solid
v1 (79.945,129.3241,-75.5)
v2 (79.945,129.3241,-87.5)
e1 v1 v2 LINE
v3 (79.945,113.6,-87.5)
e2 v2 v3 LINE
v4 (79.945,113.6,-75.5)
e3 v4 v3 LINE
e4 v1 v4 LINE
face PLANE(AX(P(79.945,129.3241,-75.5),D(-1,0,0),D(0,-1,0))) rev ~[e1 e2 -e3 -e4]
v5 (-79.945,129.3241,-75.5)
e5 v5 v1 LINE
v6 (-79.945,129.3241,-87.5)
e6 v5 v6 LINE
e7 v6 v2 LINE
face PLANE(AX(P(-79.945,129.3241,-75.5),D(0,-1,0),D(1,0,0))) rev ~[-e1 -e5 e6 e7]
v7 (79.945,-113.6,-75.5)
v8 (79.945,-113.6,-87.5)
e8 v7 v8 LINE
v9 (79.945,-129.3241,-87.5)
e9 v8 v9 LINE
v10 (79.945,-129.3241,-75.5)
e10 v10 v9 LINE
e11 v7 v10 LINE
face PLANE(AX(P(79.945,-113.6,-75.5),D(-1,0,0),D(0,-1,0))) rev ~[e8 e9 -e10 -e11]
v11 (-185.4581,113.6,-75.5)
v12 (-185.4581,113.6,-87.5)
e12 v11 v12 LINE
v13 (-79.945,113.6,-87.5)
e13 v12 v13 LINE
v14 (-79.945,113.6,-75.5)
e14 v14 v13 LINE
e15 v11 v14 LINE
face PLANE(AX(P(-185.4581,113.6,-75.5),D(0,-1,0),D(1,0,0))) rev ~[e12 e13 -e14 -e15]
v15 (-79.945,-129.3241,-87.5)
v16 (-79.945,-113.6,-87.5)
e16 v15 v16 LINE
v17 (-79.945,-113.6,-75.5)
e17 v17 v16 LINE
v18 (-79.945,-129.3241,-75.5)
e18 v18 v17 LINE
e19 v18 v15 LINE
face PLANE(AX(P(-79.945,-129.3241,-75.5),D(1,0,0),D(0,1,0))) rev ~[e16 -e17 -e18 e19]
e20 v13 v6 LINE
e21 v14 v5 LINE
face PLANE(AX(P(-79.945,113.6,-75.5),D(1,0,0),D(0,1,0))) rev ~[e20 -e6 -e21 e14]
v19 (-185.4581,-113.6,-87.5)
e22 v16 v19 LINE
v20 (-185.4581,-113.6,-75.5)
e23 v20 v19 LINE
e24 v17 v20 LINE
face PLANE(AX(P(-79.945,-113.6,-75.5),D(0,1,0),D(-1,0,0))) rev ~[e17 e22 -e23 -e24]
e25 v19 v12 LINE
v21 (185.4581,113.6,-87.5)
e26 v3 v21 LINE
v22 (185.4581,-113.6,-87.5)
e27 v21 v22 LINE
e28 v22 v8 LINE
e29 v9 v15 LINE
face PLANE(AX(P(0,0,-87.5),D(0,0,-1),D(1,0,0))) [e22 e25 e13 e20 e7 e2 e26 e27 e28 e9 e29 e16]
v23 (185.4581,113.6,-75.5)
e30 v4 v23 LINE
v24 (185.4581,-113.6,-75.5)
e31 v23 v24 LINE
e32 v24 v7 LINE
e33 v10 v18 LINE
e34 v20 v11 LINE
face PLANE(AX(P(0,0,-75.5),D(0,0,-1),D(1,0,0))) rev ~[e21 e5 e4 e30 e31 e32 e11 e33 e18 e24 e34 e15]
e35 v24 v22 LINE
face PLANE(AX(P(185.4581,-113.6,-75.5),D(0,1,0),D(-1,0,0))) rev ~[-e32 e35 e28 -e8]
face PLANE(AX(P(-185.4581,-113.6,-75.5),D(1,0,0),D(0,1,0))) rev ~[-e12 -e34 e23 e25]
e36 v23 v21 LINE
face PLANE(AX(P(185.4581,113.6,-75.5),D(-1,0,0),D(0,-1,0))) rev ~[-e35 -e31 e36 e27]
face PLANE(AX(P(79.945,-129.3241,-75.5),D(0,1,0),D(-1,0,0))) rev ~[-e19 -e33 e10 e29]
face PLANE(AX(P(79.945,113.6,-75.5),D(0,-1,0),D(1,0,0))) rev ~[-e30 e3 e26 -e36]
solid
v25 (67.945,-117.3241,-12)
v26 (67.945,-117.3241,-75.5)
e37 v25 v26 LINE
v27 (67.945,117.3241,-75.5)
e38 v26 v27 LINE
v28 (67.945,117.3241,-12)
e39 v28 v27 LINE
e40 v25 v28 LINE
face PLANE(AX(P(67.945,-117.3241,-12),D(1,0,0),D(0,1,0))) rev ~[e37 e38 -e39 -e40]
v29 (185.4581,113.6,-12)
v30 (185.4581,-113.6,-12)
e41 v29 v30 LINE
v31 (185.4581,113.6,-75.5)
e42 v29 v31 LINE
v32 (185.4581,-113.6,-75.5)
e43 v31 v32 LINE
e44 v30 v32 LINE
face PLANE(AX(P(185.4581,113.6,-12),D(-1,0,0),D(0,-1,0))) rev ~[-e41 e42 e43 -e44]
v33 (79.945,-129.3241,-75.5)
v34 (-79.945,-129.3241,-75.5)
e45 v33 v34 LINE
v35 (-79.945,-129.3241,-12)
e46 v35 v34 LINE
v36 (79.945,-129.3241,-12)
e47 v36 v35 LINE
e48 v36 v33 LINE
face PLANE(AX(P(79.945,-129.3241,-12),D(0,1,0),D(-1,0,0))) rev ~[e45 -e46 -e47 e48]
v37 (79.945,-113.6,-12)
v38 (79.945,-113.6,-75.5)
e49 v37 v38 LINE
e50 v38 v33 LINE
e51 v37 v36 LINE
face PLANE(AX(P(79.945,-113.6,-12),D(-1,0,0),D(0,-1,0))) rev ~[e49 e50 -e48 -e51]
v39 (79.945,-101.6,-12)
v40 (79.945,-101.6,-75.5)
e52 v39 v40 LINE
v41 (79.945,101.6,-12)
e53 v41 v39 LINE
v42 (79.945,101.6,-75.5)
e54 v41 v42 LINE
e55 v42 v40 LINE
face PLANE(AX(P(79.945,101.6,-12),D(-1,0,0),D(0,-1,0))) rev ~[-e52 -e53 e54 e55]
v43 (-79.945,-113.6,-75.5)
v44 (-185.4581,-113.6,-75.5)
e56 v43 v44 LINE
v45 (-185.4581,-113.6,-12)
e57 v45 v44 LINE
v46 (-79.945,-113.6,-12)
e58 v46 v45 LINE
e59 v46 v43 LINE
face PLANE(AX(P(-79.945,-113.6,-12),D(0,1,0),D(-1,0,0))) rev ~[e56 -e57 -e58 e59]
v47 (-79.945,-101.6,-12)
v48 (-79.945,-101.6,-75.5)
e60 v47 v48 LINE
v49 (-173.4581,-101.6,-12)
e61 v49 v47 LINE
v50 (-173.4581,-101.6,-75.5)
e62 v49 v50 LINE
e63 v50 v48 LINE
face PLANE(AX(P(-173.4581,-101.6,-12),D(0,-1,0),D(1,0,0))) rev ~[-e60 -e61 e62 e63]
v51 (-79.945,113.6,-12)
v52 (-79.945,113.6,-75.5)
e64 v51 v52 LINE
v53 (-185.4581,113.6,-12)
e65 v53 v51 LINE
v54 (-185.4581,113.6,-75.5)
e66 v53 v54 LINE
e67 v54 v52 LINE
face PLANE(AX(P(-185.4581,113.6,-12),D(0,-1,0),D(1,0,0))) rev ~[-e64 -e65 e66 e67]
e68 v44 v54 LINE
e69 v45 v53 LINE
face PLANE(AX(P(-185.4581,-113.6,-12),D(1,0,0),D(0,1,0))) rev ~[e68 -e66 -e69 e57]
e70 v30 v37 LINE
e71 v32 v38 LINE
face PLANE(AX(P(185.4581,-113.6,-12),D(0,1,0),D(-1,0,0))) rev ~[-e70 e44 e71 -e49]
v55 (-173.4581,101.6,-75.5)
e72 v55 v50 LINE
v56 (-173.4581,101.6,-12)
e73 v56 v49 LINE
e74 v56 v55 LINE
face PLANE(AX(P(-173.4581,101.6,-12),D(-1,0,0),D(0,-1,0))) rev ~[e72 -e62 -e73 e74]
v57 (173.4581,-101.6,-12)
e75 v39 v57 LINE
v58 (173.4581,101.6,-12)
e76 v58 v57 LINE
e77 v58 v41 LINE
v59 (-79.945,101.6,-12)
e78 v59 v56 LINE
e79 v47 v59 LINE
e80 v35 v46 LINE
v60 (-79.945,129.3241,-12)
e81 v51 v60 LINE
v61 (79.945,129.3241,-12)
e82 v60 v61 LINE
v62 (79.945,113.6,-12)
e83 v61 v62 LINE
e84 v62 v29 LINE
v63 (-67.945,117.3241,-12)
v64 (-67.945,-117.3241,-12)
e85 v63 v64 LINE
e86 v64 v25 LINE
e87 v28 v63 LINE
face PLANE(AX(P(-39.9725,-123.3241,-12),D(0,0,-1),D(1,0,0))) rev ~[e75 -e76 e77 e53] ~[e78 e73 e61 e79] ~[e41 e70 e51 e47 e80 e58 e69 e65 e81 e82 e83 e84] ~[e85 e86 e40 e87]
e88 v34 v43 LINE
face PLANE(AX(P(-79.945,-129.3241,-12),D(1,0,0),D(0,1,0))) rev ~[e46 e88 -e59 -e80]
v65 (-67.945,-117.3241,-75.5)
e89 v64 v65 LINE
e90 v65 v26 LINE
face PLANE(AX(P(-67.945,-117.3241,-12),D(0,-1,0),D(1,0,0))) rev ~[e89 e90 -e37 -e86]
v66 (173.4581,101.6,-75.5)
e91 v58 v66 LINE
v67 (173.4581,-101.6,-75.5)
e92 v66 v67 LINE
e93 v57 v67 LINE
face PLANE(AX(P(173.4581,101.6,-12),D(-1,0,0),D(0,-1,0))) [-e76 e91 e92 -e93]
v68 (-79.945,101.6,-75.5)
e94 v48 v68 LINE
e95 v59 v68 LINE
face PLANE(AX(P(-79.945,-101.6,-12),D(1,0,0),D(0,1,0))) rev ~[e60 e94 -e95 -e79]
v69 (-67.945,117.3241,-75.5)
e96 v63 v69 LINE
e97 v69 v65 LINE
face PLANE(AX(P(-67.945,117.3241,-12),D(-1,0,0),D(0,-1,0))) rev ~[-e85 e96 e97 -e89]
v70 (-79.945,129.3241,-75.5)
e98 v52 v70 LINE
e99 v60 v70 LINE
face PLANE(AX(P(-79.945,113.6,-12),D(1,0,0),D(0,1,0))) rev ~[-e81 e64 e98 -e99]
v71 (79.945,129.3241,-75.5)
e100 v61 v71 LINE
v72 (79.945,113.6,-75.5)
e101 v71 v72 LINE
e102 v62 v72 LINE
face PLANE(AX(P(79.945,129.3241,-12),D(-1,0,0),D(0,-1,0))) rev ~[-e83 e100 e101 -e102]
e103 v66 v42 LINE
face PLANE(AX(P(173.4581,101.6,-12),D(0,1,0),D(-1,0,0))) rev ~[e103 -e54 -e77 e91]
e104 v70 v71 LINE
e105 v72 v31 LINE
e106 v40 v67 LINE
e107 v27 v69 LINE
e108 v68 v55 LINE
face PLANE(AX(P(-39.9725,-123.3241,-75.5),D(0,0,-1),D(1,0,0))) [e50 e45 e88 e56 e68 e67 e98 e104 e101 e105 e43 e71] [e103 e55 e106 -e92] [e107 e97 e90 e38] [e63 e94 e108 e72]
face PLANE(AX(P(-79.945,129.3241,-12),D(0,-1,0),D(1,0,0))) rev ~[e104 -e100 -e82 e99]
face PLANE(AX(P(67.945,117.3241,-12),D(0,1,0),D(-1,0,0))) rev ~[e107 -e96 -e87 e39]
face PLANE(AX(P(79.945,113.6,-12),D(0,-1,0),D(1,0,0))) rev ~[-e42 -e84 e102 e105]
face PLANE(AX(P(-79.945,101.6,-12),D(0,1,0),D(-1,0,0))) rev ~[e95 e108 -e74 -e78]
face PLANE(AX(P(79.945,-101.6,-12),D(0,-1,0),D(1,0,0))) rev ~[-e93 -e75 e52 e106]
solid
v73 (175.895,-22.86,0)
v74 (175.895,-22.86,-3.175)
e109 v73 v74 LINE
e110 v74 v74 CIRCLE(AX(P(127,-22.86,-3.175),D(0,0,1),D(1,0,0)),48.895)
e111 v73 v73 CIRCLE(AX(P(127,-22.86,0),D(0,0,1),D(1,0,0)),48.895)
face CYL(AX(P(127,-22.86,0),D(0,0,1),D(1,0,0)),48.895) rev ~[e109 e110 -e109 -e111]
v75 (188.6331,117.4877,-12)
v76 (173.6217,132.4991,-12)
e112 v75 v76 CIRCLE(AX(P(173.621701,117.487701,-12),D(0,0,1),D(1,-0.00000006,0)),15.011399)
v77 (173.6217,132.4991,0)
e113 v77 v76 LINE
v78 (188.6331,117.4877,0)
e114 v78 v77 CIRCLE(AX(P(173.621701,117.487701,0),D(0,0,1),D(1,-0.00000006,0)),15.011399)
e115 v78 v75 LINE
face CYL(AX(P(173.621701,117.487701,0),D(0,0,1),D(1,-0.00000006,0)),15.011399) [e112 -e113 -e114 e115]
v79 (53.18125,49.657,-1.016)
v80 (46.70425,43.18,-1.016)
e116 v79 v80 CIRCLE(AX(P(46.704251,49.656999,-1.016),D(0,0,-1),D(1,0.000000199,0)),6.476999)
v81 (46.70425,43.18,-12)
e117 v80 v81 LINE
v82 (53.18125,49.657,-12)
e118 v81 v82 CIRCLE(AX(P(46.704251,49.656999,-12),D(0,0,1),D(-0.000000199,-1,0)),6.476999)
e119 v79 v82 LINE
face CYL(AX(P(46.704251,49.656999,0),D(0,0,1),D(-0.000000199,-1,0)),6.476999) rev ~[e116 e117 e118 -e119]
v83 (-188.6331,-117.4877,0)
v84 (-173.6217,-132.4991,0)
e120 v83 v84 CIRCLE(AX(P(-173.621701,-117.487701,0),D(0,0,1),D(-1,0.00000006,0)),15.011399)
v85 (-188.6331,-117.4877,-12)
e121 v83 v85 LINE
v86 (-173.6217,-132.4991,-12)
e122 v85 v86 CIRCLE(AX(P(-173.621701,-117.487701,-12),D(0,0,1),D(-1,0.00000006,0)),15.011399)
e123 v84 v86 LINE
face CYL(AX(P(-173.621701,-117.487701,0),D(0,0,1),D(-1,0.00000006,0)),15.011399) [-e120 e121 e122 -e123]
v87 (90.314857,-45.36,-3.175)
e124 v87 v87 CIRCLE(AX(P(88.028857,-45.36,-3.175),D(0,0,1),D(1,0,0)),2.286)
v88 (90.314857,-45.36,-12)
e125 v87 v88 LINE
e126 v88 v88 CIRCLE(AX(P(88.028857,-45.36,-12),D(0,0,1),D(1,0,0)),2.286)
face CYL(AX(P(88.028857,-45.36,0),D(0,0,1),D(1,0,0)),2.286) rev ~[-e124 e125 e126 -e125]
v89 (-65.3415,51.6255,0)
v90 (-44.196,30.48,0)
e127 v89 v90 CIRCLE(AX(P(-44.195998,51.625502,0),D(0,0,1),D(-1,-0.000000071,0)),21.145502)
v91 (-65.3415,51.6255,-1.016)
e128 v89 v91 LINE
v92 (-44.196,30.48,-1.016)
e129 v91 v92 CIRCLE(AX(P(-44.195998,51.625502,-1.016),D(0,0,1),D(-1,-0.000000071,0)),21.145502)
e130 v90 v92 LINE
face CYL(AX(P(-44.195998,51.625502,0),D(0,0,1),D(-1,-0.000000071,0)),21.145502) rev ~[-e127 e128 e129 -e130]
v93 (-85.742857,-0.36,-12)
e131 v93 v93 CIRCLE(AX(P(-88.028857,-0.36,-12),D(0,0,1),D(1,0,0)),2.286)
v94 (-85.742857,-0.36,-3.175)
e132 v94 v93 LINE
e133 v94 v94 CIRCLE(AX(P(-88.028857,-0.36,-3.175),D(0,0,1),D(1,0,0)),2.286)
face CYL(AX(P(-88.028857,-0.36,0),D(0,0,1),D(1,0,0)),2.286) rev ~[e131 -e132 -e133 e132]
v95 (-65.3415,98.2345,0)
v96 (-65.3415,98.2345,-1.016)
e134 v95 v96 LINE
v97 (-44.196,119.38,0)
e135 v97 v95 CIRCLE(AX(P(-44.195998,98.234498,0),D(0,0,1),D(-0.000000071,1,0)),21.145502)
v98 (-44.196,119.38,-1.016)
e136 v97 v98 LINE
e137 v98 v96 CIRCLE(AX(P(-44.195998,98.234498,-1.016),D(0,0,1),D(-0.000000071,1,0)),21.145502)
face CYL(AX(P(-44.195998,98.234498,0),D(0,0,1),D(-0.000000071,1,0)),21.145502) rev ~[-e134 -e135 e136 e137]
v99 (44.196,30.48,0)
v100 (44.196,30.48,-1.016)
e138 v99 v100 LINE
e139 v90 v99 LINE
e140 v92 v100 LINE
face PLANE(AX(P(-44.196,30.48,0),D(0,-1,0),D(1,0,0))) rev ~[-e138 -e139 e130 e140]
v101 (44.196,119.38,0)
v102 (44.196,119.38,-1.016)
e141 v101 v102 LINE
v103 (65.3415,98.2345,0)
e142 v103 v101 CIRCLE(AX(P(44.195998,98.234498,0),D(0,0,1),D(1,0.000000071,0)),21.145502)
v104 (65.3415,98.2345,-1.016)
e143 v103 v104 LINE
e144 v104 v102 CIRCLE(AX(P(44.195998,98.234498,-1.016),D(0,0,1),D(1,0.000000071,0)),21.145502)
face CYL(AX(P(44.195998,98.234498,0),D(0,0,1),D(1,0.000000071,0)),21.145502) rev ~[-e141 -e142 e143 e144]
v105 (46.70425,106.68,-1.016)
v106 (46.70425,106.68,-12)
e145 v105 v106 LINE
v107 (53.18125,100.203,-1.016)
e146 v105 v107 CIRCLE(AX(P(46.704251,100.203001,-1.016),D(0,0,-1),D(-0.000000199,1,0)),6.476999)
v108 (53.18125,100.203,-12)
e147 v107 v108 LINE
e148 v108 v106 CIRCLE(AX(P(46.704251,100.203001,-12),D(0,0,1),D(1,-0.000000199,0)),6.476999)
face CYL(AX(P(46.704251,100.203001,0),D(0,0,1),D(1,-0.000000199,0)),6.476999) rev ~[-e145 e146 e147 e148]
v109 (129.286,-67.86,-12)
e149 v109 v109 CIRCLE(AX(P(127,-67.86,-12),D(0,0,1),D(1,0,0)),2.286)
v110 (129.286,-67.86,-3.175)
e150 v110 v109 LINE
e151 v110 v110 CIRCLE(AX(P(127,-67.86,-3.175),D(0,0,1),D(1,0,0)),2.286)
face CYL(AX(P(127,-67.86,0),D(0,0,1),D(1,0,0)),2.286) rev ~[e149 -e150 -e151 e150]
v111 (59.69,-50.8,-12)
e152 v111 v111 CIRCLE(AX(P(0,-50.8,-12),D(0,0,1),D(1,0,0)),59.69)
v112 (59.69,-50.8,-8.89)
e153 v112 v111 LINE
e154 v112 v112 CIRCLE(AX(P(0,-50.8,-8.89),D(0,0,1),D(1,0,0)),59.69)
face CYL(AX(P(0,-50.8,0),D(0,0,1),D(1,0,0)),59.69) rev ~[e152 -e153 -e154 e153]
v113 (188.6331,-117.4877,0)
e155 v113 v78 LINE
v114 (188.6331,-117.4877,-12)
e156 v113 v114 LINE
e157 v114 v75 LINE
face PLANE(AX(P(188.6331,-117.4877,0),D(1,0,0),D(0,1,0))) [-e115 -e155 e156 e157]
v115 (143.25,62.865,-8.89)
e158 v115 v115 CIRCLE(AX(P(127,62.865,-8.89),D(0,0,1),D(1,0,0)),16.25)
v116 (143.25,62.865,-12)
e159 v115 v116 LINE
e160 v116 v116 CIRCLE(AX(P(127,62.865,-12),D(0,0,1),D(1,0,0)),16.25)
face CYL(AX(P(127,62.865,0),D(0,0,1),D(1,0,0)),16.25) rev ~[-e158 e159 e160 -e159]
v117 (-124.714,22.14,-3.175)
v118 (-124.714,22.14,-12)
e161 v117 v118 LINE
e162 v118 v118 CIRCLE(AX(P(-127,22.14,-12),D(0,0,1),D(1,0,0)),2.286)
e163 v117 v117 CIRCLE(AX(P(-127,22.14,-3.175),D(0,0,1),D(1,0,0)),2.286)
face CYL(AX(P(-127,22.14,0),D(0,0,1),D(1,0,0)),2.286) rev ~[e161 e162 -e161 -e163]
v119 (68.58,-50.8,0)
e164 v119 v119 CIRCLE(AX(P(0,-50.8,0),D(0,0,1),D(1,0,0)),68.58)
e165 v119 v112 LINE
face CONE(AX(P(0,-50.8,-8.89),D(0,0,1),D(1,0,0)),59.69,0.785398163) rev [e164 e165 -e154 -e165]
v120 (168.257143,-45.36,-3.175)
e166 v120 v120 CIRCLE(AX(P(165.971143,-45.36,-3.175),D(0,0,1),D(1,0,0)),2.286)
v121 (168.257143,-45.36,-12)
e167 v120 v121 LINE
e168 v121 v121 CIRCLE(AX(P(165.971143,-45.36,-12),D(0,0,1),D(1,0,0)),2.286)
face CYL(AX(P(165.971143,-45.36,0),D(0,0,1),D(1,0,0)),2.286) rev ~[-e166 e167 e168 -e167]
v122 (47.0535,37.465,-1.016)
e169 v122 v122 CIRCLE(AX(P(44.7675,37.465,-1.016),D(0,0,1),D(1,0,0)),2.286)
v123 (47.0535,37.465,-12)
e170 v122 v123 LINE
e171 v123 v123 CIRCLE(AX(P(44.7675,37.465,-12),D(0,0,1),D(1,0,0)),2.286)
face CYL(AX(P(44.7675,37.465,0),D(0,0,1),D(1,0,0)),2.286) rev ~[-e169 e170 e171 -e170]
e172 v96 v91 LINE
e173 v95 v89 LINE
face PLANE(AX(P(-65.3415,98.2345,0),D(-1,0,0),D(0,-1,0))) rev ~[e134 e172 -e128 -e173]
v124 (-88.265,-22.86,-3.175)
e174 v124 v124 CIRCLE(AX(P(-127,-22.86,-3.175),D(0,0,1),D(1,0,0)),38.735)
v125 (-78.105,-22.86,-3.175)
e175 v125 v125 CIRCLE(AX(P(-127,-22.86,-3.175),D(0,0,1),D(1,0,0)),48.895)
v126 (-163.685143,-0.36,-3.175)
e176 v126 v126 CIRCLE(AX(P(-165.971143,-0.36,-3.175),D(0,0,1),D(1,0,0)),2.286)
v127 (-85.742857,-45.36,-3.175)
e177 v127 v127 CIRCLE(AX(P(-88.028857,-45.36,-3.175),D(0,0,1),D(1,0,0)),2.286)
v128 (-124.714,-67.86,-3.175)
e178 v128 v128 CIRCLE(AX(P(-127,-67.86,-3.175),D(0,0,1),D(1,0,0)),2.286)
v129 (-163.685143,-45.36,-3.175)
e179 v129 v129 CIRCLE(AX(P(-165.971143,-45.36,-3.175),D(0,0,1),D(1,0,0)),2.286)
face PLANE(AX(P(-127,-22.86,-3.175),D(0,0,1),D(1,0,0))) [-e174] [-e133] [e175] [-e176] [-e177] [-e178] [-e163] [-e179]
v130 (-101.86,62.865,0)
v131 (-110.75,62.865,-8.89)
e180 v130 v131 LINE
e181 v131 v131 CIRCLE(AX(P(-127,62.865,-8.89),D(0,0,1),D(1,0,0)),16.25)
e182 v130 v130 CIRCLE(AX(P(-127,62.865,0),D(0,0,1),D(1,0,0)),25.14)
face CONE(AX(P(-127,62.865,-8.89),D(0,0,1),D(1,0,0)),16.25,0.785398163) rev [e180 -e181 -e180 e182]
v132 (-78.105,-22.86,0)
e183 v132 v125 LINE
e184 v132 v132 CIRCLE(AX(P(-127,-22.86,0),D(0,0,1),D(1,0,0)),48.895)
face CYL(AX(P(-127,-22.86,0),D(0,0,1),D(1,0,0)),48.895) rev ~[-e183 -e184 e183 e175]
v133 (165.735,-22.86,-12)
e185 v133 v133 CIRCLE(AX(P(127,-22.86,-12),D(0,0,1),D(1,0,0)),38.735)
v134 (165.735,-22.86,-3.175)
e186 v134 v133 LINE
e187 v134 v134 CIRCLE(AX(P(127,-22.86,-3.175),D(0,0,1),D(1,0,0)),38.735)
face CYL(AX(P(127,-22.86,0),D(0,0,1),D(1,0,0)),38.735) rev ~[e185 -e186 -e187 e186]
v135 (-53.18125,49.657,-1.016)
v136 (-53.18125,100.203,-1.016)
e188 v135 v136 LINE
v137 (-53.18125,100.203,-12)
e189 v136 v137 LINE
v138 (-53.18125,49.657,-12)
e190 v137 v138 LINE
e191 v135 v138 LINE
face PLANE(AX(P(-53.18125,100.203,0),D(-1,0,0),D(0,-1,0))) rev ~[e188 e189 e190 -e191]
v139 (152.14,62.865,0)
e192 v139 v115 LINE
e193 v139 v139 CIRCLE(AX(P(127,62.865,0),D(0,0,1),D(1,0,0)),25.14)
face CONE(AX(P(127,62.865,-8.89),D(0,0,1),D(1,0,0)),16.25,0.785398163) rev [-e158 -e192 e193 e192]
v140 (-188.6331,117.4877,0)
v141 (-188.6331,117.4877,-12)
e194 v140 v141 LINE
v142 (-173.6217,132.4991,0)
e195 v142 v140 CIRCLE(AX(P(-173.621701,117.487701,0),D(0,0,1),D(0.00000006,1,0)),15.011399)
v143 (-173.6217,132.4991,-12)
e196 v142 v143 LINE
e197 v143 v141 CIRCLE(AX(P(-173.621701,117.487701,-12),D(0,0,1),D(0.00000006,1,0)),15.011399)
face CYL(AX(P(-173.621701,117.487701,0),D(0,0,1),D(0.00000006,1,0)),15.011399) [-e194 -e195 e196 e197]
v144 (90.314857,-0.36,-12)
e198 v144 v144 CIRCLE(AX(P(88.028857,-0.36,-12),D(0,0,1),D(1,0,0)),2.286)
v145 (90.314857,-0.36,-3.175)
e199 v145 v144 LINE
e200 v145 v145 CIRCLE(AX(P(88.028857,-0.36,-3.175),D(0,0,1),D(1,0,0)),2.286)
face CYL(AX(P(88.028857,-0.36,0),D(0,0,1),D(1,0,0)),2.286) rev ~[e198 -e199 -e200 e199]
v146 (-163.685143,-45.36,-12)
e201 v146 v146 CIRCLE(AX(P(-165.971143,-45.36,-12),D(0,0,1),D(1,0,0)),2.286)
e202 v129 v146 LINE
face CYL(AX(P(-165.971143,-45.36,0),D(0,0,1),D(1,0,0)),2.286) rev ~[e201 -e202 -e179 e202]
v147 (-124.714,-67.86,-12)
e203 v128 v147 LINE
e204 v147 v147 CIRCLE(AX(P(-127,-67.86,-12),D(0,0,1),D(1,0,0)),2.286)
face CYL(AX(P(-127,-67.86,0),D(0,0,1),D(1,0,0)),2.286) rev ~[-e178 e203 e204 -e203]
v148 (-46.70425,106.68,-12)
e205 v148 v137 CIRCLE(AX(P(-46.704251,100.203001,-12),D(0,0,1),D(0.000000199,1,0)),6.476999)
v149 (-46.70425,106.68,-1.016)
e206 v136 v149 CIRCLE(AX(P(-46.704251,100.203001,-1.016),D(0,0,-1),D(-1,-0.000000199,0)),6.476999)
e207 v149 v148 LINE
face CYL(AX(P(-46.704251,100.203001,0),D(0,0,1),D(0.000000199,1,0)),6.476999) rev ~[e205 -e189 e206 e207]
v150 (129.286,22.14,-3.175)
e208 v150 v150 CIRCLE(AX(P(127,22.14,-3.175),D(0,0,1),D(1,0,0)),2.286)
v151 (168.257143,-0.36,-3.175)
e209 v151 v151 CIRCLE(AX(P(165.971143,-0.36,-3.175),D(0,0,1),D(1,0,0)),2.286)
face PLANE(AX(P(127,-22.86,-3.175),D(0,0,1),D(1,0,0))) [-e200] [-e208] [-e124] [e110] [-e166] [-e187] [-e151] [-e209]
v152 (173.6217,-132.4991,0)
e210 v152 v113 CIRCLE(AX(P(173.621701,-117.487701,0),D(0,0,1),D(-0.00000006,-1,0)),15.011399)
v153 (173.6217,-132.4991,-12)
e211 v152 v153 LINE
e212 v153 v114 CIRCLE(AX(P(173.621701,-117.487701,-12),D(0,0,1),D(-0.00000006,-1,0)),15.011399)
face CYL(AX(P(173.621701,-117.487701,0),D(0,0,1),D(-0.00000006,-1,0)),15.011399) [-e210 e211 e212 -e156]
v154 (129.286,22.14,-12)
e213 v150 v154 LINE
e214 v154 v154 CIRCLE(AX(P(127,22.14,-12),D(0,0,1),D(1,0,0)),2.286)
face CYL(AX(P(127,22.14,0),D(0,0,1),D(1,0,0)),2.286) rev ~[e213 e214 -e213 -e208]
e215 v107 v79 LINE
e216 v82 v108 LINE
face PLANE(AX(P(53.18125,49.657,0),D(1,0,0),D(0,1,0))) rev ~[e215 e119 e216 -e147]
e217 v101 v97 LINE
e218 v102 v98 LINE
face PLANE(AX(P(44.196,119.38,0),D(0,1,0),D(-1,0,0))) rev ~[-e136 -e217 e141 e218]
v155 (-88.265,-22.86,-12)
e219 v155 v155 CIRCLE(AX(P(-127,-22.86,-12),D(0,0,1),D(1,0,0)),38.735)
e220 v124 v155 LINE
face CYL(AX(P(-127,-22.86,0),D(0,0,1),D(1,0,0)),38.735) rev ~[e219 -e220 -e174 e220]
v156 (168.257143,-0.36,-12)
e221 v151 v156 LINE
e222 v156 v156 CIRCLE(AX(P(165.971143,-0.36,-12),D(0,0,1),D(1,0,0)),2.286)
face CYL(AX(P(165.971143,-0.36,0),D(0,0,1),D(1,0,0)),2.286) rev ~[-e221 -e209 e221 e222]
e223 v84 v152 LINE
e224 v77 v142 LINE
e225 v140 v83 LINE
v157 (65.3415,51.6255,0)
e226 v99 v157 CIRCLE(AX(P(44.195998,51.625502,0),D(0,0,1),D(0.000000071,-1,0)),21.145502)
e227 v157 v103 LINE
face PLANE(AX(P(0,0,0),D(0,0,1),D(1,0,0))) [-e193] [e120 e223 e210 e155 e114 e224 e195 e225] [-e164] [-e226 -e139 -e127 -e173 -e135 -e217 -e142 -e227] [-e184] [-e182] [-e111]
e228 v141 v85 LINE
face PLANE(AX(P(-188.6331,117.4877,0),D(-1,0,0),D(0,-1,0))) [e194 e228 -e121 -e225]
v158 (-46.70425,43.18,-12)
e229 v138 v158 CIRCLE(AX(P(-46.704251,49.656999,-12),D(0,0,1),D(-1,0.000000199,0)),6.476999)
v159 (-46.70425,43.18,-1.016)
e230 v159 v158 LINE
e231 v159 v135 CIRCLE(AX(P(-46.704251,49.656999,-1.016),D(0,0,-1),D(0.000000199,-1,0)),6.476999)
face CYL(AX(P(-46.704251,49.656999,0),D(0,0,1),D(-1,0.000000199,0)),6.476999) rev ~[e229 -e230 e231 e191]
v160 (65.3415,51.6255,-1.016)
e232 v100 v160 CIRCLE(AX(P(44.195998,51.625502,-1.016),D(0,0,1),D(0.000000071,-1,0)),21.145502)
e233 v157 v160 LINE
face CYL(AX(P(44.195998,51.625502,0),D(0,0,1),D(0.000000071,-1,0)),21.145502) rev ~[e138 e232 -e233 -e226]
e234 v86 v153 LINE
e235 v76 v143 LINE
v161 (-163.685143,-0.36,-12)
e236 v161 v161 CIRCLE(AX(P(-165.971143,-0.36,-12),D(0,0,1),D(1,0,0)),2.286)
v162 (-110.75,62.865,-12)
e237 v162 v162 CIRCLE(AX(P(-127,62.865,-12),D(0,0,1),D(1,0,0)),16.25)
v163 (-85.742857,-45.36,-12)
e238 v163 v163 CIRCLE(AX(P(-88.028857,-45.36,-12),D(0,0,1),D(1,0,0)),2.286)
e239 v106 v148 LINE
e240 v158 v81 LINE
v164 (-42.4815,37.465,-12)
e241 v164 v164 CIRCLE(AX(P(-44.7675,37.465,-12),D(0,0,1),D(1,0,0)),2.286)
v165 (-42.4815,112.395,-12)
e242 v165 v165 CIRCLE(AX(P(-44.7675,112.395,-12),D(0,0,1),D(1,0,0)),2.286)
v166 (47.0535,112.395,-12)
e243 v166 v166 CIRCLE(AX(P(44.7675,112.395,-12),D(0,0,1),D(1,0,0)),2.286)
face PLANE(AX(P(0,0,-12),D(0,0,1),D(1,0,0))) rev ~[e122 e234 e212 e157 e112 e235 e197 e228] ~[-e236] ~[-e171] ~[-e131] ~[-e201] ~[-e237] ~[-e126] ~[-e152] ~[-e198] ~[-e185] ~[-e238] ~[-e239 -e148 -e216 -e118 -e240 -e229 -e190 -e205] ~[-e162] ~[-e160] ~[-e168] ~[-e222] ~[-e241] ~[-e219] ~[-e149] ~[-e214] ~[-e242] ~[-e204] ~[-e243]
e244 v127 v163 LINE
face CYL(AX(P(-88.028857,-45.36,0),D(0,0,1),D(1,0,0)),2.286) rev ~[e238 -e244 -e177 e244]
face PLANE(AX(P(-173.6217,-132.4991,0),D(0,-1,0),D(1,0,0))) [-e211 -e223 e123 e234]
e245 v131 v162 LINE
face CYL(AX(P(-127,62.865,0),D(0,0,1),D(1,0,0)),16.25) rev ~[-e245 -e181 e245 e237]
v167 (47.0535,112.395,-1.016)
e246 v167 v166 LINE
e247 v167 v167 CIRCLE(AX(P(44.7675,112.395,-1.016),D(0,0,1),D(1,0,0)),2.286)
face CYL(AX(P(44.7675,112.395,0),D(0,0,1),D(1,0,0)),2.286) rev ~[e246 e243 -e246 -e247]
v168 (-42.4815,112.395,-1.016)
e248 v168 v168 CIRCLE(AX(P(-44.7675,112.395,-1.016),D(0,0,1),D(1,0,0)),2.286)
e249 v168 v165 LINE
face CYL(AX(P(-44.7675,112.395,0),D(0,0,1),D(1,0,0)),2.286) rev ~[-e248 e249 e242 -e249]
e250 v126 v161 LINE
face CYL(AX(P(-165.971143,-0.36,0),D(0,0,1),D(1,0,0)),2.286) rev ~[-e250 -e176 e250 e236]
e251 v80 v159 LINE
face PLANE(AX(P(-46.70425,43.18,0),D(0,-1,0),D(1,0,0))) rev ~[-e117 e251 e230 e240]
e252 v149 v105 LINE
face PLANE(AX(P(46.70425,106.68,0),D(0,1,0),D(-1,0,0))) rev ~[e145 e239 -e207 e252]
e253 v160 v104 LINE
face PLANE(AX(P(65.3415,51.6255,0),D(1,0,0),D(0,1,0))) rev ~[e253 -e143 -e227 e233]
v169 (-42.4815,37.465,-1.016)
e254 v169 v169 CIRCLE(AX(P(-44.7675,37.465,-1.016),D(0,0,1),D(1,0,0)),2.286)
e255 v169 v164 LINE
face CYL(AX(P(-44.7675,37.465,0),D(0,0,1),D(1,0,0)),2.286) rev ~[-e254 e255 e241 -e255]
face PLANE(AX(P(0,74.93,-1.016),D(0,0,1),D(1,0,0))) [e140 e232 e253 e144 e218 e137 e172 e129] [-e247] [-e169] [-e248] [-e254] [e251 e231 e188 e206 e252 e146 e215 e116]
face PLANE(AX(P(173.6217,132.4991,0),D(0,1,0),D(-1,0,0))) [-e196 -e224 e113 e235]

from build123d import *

# Parameters (mm, degrees)
F1_DEPTH  = 12
F2_R      = 16.25
F2_R_2    = 59.69
F2_R_3    = 38.735
F2_R_4    = 2.286
F3_DEPTH  = 12.001
F2_R_5    = 48.895
F4_DEPTH  = 3.175
F5_SIZE   = 8.89
F6_DEPTH  = 1.016
F7_W      = 12
F7_H      = 203.2
F8_DEPTH  = 63.5
F10_DEPTH = 12


with BuildPart() as f1:
    # F0 (on Top) → F1 (new body)
    with BuildSketch(Plane.XY):
        with BuildLine():
            Line((173.6217, 132.4991), (-173.6217, 132.4991))
            ThreePointArc((-173.6217, 132.4991), (-184.236363, 128.102363), (-188.6331, 117.4877))
            Line((-188.6331, 117.4877), (-188.6331, -117.4877))
            ThreePointArc((-188.6331, -117.4877), (-184.236363, -128.102363), (-173.6217, -132.4991))
            Line((-173.6217, -132.4991), (173.6217, -132.4991))
            ThreePointArc((173.6217, -132.4991), (184.236363, -128.102363), (188.6331, -117.4877))
            Line((188.6331, -117.4877), (188.6331, 117.4877))
            ThreePointArc((188.6331, 117.4877), (184.236363, 128.102363), (173.6217, 132.4991))
        make_face()
    extrude(amount=-F1_DEPTH)

    # F2 (on face) → F3 (cut, through all)
    with BuildSketch(Plane.XY):
        with Locations((-127, 62.865)):
            Circle(F2_R)
        with BuildLine():
            Line((-46.70425, 43.18), (46.70425, 43.18))
            ThreePointArc((46.70425, 43.18), (51.284181, 45.077069), (53.18125, 49.657))
            Line((53.18125, 49.657), (53.18125, 100.203))
            ThreePointArc((53.18125, 100.203), (51.284181, 104.782931), (46.70425, 106.68))
            Line((46.70425, 106.68), (-46.70425, 106.68))
            ThreePointArc((-46.70425, 106.68), (-51.284181, 104.782931), (-53.18125, 100.203))
            Line((-53.18125, 100.203), (-53.18125, 49.657))
            ThreePointArc((-53.18125, 49.657), (-51.284181, 45.077069), (-46.70425, 43.18))
        make_face()
        with Locations((127, 62.865)):
            Circle(F2_R)
        with Locations((0, -50.8)):
            Circle(F2_R_2)
        with Locations((127, -22.86)):
            Circle(F2_R_3)
        with Locations((-127, -22.86)):
            Circle(F2_R_3)
        with Locations((-165.971143, -0.36)):
            Circle(F2_R_4)
        with Locations((-127, 22.14)):
            Circle(F2_R_4)
        with Locations((-88.028857, -0.36)):
            Circle(F2_R_4)
        with Locations((-88.028857, -45.36)):
            Circle(F2_R_4)
        with Locations((-165.971143, -45.36)):
            Circle(F2_R_4)
        with Locations((-127, -67.86)):
            Circle(F2_R_4)
        with Locations((127, 22.14)):
            Circle(F2_R_4)
        with Locations((165.971143, -0.36)):
            Circle(F2_R_4)
        with Locations((88.028857, -0.36)):
            Circle(F2_R_4)
        with Locations((88.028857, -45.36)):
            Circle(F2_R_4)
        with Locations((127, -67.86)):
            Circle(F2_R_4)
        with Locations((165.971143, -45.36)):
            Circle(F2_R_4)
        with Locations((-44.7675, 112.395)):
            Circle(F2_R_4)
        with Locations((44.7675, 112.395)):
            Circle(F2_R_4)
        with Locations((-44.7675, 37.465)):
            Circle(F2_R_4)
        with Locations((44.7675, 37.465)):
            Circle(F2_R_4)
    extrude(amount=-F3_DEPTH, mode=Mode.SUBTRACT)

    # F2 (on face) → F4 (cut)
    with BuildSketch(Plane.XY):
        with Locations((-127, -22.86)):
            Circle(F2_R_5)
        with Locations((-127, -67.86)):
            Circle(F2_R_4, mode=Mode.SUBTRACT)
        with Locations((-165.971143, -45.36)):
            Circle(F2_R_4, mode=Mode.SUBTRACT)
        with Locations((-165.971143, -0.36)):
            Circle(F2_R_4, mode=Mode.SUBTRACT)
        with Locations((-127, -22.86)):
            Circle(F2_R_3, mode=Mode.SUBTRACT)
        with Locations((-88.028857, -45.36)):
            Circle(F2_R_4, mode=Mode.SUBTRACT)
        with Locations((-88.028857, -0.36)):
            Circle(F2_R_4, mode=Mode.SUBTRACT)
        with Locations((-127, 22.14)):
            Circle(F2_R_4, mode=Mode.SUBTRACT)
        with Locations((127, -22.86)):
            Circle(F2_R_5)
        with Locations((127, -67.86)):
            Circle(F2_R_4, mode=Mode.SUBTRACT)
        with Locations((88.028857, -45.36)):
            Circle(F2_R_4, mode=Mode.SUBTRACT)
        with Locations((88.028857, -0.36)):
            Circle(F2_R_4, mode=Mode.SUBTRACT)
        with Locations((165.971143, -45.36)):
            Circle(F2_R_4, mode=Mode.SUBTRACT)
        with Locations((127, -22.86)):
            Circle(F2_R_3, mode=Mode.SUBTRACT)
        with Locations((165.971143, -0.36)):
            Circle(F2_R_4, mode=Mode.SUBTRACT)
        with Locations((127, 22.14)):
            Circle(F2_R_4, mode=Mode.SUBTRACT)
    extrude(amount=-F4_DEPTH, mode=Mode.SUBTRACT)

    # F5
    f5_edges = [f1.edges().sort_by_distance(p)[0] for p in [
        (-143.25, 62.865, 0),
        (110.75, 62.865, 0),
        (-59.69, -50.8, 0),
    ]]
    chamfer(f5_edges, length=F5_SIZE)

    # F2 (on face) → F6 (cut)
    with BuildSketch(Plane.XY):
        with BuildLine():
            Line((-44.196, 30.48), (44.196, 30.48))
            ThreePointArc((44.196, 30.48), (59.148126, 36.673374), (65.3415, 51.6255))
            Line((65.3415, 51.6255), (65.3415, 98.2345))
            ThreePointArc((65.3415, 98.2345), (59.148126, 113.186626), (44.196, 119.38))
            Line((44.196, 119.38), (-44.196, 119.38))
            ThreePointArc((-44.196, 119.38), (-59.148126, 113.186626), (-65.3415, 98.2345))
            Line((-65.3415, 98.2345), (-65.3415, 51.6255))
            ThreePointArc((-65.3415, 51.6255), (-59.148126, 36.673374), (-44.196, 30.48))
        make_face()
        with Locations((-44.7675, 37.465)):
            Circle(F2_R_4, mode=Mode.SUBTRACT)
        with Locations((-44.7675, 112.395)):
            Circle(F2_R_4, mode=Mode.SUBTRACT)
        with Locations((44.7675, 37.465)):
            Circle(F2_R_4, mode=Mode.SUBTRACT)
        with BuildLine():
            ThreePointArc((53.18125, 49.657), (51.284181, 45.077069), (46.70425, 43.18))
            Line((46.70425, 43.18), (-46.70425, 43.18))
            ThreePointArc((-46.70425, 43.18), (-51.284181, 45.077069), (-53.18125, 49.657))
            Line((-53.18125, 49.657), (-53.18125, 100.203))
            ThreePointArc((-53.18125, 100.203), (-51.284181, 104.782931), (-46.70425, 106.68))
            Line((-46.70425, 106.68), (46.70425, 106.68))
            ThreePointArc((46.70425, 106.68), (51.284181, 104.782931), (53.18125, 100.203))
            Line((53.18125, 100.203), (53.18125, 49.657))
        make_face(mode=Mode.SUBTRACT)
        with Locations((44.7675, 112.395)):
            Circle(F2_R_4, mode=Mode.SUBTRACT)
    extrude(amount=-F6_DEPTH, mode=Mode.SUBTRACT)


with BuildPart() as f8:
    # F7 (on face) → F8 (new body)
    with BuildSketch(Plane(origin=(0, 0, -12), x_dir=(1, 0, 0), z_dir=(0, 0, -1))):
        Polygon((-79.945, 129.3241), (-79.945, 117.3241), (-67.945, 117.3241), (0, 117.3241), (0, 129.3241), align=None)
        Polygon((-67.945, 117.3241), (-79.945, 117.3241), (-79.945, 113.6), (-79.945, 101.6), (-79.945, -101.6), (-79.945, -113.6), (-79.945, -117.3241), (-67.945, -117.3241), align=None)
        Polygon((-79.945, 101.6), (-79.945, 113.6), (-185.4581, 113.6), (-185.4581, 101.6), (-173.4581, 101.6), align=None)
        Polygon((0, -117.3241), (-67.945, -117.3241), (-79.945, -117.3241), (-79.945, -129.3241), (0, -129.3241), align=None)
        Polygon((0, 129.3241), (0, 117.3241), (67.945, 117.3241), (79.945, 117.3241), (79.945, 129.3241), align=None)
        Polygon((67.945, -117.3241), (0, -117.3241), (0, -129.3241), (79.945, -129.3241), (79.945, -117.3241), align=None)
        Polygon((79.945, 117.3241), (67.945, 117.3241), (67.945, -117.3241), (79.945, -117.3241), (79.945, -113.6), (79.945, -101.6), (79.945, 101.6), (79.945, 113.6), align=None)
        Polygon((-79.945, -113.6), (-79.945, -101.6), (-173.4581, -101.6), (-185.4581, -101.6), (-185.4581, -113.6), align=None)
        with Locations((-179.4581, 0)):
            Rectangle(F7_W, F7_H)
        Polygon((185.4581, 113.6), (79.945, 113.6), (79.945, 101.6), (173.4581, 101.6), (185.4581, 101.6), align=None)
        Polygon((79.945, -101.6), (79.945, -113.6), (185.4581, -113.6), (185.4581, -101.6), (173.4581, -101.6), align=None)
        with Locations((179.4581, 0)):
            Rectangle(F7_W, F7_H)
    extrude(amount=F8_DEPTH)


with BuildPart() as f10:
    # F9 (on face) → F10 (new body)
    with BuildSketch(Plane(origin=(0, 0, -75.5), x_dir=(1, 0, 0), z_dir=(0, 0, -1))):
        Polygon((-185.4581, 113.6), (-185.4581, -113.6), (-79.945, -113.6), (-79.945, -129.3241), (79.945, -129.3241), (79.945, -113.6), (185.4581, -113.6), (185.4581, 113.6), (79.945, 113.6), (79.945, 129.3241), (-79.945, 129.3241), (-79.945, 113.6), align=None)
    extrude(amount=F10_DEPTH)


solid = Compound([f1.part, f8.part, f10.part])
